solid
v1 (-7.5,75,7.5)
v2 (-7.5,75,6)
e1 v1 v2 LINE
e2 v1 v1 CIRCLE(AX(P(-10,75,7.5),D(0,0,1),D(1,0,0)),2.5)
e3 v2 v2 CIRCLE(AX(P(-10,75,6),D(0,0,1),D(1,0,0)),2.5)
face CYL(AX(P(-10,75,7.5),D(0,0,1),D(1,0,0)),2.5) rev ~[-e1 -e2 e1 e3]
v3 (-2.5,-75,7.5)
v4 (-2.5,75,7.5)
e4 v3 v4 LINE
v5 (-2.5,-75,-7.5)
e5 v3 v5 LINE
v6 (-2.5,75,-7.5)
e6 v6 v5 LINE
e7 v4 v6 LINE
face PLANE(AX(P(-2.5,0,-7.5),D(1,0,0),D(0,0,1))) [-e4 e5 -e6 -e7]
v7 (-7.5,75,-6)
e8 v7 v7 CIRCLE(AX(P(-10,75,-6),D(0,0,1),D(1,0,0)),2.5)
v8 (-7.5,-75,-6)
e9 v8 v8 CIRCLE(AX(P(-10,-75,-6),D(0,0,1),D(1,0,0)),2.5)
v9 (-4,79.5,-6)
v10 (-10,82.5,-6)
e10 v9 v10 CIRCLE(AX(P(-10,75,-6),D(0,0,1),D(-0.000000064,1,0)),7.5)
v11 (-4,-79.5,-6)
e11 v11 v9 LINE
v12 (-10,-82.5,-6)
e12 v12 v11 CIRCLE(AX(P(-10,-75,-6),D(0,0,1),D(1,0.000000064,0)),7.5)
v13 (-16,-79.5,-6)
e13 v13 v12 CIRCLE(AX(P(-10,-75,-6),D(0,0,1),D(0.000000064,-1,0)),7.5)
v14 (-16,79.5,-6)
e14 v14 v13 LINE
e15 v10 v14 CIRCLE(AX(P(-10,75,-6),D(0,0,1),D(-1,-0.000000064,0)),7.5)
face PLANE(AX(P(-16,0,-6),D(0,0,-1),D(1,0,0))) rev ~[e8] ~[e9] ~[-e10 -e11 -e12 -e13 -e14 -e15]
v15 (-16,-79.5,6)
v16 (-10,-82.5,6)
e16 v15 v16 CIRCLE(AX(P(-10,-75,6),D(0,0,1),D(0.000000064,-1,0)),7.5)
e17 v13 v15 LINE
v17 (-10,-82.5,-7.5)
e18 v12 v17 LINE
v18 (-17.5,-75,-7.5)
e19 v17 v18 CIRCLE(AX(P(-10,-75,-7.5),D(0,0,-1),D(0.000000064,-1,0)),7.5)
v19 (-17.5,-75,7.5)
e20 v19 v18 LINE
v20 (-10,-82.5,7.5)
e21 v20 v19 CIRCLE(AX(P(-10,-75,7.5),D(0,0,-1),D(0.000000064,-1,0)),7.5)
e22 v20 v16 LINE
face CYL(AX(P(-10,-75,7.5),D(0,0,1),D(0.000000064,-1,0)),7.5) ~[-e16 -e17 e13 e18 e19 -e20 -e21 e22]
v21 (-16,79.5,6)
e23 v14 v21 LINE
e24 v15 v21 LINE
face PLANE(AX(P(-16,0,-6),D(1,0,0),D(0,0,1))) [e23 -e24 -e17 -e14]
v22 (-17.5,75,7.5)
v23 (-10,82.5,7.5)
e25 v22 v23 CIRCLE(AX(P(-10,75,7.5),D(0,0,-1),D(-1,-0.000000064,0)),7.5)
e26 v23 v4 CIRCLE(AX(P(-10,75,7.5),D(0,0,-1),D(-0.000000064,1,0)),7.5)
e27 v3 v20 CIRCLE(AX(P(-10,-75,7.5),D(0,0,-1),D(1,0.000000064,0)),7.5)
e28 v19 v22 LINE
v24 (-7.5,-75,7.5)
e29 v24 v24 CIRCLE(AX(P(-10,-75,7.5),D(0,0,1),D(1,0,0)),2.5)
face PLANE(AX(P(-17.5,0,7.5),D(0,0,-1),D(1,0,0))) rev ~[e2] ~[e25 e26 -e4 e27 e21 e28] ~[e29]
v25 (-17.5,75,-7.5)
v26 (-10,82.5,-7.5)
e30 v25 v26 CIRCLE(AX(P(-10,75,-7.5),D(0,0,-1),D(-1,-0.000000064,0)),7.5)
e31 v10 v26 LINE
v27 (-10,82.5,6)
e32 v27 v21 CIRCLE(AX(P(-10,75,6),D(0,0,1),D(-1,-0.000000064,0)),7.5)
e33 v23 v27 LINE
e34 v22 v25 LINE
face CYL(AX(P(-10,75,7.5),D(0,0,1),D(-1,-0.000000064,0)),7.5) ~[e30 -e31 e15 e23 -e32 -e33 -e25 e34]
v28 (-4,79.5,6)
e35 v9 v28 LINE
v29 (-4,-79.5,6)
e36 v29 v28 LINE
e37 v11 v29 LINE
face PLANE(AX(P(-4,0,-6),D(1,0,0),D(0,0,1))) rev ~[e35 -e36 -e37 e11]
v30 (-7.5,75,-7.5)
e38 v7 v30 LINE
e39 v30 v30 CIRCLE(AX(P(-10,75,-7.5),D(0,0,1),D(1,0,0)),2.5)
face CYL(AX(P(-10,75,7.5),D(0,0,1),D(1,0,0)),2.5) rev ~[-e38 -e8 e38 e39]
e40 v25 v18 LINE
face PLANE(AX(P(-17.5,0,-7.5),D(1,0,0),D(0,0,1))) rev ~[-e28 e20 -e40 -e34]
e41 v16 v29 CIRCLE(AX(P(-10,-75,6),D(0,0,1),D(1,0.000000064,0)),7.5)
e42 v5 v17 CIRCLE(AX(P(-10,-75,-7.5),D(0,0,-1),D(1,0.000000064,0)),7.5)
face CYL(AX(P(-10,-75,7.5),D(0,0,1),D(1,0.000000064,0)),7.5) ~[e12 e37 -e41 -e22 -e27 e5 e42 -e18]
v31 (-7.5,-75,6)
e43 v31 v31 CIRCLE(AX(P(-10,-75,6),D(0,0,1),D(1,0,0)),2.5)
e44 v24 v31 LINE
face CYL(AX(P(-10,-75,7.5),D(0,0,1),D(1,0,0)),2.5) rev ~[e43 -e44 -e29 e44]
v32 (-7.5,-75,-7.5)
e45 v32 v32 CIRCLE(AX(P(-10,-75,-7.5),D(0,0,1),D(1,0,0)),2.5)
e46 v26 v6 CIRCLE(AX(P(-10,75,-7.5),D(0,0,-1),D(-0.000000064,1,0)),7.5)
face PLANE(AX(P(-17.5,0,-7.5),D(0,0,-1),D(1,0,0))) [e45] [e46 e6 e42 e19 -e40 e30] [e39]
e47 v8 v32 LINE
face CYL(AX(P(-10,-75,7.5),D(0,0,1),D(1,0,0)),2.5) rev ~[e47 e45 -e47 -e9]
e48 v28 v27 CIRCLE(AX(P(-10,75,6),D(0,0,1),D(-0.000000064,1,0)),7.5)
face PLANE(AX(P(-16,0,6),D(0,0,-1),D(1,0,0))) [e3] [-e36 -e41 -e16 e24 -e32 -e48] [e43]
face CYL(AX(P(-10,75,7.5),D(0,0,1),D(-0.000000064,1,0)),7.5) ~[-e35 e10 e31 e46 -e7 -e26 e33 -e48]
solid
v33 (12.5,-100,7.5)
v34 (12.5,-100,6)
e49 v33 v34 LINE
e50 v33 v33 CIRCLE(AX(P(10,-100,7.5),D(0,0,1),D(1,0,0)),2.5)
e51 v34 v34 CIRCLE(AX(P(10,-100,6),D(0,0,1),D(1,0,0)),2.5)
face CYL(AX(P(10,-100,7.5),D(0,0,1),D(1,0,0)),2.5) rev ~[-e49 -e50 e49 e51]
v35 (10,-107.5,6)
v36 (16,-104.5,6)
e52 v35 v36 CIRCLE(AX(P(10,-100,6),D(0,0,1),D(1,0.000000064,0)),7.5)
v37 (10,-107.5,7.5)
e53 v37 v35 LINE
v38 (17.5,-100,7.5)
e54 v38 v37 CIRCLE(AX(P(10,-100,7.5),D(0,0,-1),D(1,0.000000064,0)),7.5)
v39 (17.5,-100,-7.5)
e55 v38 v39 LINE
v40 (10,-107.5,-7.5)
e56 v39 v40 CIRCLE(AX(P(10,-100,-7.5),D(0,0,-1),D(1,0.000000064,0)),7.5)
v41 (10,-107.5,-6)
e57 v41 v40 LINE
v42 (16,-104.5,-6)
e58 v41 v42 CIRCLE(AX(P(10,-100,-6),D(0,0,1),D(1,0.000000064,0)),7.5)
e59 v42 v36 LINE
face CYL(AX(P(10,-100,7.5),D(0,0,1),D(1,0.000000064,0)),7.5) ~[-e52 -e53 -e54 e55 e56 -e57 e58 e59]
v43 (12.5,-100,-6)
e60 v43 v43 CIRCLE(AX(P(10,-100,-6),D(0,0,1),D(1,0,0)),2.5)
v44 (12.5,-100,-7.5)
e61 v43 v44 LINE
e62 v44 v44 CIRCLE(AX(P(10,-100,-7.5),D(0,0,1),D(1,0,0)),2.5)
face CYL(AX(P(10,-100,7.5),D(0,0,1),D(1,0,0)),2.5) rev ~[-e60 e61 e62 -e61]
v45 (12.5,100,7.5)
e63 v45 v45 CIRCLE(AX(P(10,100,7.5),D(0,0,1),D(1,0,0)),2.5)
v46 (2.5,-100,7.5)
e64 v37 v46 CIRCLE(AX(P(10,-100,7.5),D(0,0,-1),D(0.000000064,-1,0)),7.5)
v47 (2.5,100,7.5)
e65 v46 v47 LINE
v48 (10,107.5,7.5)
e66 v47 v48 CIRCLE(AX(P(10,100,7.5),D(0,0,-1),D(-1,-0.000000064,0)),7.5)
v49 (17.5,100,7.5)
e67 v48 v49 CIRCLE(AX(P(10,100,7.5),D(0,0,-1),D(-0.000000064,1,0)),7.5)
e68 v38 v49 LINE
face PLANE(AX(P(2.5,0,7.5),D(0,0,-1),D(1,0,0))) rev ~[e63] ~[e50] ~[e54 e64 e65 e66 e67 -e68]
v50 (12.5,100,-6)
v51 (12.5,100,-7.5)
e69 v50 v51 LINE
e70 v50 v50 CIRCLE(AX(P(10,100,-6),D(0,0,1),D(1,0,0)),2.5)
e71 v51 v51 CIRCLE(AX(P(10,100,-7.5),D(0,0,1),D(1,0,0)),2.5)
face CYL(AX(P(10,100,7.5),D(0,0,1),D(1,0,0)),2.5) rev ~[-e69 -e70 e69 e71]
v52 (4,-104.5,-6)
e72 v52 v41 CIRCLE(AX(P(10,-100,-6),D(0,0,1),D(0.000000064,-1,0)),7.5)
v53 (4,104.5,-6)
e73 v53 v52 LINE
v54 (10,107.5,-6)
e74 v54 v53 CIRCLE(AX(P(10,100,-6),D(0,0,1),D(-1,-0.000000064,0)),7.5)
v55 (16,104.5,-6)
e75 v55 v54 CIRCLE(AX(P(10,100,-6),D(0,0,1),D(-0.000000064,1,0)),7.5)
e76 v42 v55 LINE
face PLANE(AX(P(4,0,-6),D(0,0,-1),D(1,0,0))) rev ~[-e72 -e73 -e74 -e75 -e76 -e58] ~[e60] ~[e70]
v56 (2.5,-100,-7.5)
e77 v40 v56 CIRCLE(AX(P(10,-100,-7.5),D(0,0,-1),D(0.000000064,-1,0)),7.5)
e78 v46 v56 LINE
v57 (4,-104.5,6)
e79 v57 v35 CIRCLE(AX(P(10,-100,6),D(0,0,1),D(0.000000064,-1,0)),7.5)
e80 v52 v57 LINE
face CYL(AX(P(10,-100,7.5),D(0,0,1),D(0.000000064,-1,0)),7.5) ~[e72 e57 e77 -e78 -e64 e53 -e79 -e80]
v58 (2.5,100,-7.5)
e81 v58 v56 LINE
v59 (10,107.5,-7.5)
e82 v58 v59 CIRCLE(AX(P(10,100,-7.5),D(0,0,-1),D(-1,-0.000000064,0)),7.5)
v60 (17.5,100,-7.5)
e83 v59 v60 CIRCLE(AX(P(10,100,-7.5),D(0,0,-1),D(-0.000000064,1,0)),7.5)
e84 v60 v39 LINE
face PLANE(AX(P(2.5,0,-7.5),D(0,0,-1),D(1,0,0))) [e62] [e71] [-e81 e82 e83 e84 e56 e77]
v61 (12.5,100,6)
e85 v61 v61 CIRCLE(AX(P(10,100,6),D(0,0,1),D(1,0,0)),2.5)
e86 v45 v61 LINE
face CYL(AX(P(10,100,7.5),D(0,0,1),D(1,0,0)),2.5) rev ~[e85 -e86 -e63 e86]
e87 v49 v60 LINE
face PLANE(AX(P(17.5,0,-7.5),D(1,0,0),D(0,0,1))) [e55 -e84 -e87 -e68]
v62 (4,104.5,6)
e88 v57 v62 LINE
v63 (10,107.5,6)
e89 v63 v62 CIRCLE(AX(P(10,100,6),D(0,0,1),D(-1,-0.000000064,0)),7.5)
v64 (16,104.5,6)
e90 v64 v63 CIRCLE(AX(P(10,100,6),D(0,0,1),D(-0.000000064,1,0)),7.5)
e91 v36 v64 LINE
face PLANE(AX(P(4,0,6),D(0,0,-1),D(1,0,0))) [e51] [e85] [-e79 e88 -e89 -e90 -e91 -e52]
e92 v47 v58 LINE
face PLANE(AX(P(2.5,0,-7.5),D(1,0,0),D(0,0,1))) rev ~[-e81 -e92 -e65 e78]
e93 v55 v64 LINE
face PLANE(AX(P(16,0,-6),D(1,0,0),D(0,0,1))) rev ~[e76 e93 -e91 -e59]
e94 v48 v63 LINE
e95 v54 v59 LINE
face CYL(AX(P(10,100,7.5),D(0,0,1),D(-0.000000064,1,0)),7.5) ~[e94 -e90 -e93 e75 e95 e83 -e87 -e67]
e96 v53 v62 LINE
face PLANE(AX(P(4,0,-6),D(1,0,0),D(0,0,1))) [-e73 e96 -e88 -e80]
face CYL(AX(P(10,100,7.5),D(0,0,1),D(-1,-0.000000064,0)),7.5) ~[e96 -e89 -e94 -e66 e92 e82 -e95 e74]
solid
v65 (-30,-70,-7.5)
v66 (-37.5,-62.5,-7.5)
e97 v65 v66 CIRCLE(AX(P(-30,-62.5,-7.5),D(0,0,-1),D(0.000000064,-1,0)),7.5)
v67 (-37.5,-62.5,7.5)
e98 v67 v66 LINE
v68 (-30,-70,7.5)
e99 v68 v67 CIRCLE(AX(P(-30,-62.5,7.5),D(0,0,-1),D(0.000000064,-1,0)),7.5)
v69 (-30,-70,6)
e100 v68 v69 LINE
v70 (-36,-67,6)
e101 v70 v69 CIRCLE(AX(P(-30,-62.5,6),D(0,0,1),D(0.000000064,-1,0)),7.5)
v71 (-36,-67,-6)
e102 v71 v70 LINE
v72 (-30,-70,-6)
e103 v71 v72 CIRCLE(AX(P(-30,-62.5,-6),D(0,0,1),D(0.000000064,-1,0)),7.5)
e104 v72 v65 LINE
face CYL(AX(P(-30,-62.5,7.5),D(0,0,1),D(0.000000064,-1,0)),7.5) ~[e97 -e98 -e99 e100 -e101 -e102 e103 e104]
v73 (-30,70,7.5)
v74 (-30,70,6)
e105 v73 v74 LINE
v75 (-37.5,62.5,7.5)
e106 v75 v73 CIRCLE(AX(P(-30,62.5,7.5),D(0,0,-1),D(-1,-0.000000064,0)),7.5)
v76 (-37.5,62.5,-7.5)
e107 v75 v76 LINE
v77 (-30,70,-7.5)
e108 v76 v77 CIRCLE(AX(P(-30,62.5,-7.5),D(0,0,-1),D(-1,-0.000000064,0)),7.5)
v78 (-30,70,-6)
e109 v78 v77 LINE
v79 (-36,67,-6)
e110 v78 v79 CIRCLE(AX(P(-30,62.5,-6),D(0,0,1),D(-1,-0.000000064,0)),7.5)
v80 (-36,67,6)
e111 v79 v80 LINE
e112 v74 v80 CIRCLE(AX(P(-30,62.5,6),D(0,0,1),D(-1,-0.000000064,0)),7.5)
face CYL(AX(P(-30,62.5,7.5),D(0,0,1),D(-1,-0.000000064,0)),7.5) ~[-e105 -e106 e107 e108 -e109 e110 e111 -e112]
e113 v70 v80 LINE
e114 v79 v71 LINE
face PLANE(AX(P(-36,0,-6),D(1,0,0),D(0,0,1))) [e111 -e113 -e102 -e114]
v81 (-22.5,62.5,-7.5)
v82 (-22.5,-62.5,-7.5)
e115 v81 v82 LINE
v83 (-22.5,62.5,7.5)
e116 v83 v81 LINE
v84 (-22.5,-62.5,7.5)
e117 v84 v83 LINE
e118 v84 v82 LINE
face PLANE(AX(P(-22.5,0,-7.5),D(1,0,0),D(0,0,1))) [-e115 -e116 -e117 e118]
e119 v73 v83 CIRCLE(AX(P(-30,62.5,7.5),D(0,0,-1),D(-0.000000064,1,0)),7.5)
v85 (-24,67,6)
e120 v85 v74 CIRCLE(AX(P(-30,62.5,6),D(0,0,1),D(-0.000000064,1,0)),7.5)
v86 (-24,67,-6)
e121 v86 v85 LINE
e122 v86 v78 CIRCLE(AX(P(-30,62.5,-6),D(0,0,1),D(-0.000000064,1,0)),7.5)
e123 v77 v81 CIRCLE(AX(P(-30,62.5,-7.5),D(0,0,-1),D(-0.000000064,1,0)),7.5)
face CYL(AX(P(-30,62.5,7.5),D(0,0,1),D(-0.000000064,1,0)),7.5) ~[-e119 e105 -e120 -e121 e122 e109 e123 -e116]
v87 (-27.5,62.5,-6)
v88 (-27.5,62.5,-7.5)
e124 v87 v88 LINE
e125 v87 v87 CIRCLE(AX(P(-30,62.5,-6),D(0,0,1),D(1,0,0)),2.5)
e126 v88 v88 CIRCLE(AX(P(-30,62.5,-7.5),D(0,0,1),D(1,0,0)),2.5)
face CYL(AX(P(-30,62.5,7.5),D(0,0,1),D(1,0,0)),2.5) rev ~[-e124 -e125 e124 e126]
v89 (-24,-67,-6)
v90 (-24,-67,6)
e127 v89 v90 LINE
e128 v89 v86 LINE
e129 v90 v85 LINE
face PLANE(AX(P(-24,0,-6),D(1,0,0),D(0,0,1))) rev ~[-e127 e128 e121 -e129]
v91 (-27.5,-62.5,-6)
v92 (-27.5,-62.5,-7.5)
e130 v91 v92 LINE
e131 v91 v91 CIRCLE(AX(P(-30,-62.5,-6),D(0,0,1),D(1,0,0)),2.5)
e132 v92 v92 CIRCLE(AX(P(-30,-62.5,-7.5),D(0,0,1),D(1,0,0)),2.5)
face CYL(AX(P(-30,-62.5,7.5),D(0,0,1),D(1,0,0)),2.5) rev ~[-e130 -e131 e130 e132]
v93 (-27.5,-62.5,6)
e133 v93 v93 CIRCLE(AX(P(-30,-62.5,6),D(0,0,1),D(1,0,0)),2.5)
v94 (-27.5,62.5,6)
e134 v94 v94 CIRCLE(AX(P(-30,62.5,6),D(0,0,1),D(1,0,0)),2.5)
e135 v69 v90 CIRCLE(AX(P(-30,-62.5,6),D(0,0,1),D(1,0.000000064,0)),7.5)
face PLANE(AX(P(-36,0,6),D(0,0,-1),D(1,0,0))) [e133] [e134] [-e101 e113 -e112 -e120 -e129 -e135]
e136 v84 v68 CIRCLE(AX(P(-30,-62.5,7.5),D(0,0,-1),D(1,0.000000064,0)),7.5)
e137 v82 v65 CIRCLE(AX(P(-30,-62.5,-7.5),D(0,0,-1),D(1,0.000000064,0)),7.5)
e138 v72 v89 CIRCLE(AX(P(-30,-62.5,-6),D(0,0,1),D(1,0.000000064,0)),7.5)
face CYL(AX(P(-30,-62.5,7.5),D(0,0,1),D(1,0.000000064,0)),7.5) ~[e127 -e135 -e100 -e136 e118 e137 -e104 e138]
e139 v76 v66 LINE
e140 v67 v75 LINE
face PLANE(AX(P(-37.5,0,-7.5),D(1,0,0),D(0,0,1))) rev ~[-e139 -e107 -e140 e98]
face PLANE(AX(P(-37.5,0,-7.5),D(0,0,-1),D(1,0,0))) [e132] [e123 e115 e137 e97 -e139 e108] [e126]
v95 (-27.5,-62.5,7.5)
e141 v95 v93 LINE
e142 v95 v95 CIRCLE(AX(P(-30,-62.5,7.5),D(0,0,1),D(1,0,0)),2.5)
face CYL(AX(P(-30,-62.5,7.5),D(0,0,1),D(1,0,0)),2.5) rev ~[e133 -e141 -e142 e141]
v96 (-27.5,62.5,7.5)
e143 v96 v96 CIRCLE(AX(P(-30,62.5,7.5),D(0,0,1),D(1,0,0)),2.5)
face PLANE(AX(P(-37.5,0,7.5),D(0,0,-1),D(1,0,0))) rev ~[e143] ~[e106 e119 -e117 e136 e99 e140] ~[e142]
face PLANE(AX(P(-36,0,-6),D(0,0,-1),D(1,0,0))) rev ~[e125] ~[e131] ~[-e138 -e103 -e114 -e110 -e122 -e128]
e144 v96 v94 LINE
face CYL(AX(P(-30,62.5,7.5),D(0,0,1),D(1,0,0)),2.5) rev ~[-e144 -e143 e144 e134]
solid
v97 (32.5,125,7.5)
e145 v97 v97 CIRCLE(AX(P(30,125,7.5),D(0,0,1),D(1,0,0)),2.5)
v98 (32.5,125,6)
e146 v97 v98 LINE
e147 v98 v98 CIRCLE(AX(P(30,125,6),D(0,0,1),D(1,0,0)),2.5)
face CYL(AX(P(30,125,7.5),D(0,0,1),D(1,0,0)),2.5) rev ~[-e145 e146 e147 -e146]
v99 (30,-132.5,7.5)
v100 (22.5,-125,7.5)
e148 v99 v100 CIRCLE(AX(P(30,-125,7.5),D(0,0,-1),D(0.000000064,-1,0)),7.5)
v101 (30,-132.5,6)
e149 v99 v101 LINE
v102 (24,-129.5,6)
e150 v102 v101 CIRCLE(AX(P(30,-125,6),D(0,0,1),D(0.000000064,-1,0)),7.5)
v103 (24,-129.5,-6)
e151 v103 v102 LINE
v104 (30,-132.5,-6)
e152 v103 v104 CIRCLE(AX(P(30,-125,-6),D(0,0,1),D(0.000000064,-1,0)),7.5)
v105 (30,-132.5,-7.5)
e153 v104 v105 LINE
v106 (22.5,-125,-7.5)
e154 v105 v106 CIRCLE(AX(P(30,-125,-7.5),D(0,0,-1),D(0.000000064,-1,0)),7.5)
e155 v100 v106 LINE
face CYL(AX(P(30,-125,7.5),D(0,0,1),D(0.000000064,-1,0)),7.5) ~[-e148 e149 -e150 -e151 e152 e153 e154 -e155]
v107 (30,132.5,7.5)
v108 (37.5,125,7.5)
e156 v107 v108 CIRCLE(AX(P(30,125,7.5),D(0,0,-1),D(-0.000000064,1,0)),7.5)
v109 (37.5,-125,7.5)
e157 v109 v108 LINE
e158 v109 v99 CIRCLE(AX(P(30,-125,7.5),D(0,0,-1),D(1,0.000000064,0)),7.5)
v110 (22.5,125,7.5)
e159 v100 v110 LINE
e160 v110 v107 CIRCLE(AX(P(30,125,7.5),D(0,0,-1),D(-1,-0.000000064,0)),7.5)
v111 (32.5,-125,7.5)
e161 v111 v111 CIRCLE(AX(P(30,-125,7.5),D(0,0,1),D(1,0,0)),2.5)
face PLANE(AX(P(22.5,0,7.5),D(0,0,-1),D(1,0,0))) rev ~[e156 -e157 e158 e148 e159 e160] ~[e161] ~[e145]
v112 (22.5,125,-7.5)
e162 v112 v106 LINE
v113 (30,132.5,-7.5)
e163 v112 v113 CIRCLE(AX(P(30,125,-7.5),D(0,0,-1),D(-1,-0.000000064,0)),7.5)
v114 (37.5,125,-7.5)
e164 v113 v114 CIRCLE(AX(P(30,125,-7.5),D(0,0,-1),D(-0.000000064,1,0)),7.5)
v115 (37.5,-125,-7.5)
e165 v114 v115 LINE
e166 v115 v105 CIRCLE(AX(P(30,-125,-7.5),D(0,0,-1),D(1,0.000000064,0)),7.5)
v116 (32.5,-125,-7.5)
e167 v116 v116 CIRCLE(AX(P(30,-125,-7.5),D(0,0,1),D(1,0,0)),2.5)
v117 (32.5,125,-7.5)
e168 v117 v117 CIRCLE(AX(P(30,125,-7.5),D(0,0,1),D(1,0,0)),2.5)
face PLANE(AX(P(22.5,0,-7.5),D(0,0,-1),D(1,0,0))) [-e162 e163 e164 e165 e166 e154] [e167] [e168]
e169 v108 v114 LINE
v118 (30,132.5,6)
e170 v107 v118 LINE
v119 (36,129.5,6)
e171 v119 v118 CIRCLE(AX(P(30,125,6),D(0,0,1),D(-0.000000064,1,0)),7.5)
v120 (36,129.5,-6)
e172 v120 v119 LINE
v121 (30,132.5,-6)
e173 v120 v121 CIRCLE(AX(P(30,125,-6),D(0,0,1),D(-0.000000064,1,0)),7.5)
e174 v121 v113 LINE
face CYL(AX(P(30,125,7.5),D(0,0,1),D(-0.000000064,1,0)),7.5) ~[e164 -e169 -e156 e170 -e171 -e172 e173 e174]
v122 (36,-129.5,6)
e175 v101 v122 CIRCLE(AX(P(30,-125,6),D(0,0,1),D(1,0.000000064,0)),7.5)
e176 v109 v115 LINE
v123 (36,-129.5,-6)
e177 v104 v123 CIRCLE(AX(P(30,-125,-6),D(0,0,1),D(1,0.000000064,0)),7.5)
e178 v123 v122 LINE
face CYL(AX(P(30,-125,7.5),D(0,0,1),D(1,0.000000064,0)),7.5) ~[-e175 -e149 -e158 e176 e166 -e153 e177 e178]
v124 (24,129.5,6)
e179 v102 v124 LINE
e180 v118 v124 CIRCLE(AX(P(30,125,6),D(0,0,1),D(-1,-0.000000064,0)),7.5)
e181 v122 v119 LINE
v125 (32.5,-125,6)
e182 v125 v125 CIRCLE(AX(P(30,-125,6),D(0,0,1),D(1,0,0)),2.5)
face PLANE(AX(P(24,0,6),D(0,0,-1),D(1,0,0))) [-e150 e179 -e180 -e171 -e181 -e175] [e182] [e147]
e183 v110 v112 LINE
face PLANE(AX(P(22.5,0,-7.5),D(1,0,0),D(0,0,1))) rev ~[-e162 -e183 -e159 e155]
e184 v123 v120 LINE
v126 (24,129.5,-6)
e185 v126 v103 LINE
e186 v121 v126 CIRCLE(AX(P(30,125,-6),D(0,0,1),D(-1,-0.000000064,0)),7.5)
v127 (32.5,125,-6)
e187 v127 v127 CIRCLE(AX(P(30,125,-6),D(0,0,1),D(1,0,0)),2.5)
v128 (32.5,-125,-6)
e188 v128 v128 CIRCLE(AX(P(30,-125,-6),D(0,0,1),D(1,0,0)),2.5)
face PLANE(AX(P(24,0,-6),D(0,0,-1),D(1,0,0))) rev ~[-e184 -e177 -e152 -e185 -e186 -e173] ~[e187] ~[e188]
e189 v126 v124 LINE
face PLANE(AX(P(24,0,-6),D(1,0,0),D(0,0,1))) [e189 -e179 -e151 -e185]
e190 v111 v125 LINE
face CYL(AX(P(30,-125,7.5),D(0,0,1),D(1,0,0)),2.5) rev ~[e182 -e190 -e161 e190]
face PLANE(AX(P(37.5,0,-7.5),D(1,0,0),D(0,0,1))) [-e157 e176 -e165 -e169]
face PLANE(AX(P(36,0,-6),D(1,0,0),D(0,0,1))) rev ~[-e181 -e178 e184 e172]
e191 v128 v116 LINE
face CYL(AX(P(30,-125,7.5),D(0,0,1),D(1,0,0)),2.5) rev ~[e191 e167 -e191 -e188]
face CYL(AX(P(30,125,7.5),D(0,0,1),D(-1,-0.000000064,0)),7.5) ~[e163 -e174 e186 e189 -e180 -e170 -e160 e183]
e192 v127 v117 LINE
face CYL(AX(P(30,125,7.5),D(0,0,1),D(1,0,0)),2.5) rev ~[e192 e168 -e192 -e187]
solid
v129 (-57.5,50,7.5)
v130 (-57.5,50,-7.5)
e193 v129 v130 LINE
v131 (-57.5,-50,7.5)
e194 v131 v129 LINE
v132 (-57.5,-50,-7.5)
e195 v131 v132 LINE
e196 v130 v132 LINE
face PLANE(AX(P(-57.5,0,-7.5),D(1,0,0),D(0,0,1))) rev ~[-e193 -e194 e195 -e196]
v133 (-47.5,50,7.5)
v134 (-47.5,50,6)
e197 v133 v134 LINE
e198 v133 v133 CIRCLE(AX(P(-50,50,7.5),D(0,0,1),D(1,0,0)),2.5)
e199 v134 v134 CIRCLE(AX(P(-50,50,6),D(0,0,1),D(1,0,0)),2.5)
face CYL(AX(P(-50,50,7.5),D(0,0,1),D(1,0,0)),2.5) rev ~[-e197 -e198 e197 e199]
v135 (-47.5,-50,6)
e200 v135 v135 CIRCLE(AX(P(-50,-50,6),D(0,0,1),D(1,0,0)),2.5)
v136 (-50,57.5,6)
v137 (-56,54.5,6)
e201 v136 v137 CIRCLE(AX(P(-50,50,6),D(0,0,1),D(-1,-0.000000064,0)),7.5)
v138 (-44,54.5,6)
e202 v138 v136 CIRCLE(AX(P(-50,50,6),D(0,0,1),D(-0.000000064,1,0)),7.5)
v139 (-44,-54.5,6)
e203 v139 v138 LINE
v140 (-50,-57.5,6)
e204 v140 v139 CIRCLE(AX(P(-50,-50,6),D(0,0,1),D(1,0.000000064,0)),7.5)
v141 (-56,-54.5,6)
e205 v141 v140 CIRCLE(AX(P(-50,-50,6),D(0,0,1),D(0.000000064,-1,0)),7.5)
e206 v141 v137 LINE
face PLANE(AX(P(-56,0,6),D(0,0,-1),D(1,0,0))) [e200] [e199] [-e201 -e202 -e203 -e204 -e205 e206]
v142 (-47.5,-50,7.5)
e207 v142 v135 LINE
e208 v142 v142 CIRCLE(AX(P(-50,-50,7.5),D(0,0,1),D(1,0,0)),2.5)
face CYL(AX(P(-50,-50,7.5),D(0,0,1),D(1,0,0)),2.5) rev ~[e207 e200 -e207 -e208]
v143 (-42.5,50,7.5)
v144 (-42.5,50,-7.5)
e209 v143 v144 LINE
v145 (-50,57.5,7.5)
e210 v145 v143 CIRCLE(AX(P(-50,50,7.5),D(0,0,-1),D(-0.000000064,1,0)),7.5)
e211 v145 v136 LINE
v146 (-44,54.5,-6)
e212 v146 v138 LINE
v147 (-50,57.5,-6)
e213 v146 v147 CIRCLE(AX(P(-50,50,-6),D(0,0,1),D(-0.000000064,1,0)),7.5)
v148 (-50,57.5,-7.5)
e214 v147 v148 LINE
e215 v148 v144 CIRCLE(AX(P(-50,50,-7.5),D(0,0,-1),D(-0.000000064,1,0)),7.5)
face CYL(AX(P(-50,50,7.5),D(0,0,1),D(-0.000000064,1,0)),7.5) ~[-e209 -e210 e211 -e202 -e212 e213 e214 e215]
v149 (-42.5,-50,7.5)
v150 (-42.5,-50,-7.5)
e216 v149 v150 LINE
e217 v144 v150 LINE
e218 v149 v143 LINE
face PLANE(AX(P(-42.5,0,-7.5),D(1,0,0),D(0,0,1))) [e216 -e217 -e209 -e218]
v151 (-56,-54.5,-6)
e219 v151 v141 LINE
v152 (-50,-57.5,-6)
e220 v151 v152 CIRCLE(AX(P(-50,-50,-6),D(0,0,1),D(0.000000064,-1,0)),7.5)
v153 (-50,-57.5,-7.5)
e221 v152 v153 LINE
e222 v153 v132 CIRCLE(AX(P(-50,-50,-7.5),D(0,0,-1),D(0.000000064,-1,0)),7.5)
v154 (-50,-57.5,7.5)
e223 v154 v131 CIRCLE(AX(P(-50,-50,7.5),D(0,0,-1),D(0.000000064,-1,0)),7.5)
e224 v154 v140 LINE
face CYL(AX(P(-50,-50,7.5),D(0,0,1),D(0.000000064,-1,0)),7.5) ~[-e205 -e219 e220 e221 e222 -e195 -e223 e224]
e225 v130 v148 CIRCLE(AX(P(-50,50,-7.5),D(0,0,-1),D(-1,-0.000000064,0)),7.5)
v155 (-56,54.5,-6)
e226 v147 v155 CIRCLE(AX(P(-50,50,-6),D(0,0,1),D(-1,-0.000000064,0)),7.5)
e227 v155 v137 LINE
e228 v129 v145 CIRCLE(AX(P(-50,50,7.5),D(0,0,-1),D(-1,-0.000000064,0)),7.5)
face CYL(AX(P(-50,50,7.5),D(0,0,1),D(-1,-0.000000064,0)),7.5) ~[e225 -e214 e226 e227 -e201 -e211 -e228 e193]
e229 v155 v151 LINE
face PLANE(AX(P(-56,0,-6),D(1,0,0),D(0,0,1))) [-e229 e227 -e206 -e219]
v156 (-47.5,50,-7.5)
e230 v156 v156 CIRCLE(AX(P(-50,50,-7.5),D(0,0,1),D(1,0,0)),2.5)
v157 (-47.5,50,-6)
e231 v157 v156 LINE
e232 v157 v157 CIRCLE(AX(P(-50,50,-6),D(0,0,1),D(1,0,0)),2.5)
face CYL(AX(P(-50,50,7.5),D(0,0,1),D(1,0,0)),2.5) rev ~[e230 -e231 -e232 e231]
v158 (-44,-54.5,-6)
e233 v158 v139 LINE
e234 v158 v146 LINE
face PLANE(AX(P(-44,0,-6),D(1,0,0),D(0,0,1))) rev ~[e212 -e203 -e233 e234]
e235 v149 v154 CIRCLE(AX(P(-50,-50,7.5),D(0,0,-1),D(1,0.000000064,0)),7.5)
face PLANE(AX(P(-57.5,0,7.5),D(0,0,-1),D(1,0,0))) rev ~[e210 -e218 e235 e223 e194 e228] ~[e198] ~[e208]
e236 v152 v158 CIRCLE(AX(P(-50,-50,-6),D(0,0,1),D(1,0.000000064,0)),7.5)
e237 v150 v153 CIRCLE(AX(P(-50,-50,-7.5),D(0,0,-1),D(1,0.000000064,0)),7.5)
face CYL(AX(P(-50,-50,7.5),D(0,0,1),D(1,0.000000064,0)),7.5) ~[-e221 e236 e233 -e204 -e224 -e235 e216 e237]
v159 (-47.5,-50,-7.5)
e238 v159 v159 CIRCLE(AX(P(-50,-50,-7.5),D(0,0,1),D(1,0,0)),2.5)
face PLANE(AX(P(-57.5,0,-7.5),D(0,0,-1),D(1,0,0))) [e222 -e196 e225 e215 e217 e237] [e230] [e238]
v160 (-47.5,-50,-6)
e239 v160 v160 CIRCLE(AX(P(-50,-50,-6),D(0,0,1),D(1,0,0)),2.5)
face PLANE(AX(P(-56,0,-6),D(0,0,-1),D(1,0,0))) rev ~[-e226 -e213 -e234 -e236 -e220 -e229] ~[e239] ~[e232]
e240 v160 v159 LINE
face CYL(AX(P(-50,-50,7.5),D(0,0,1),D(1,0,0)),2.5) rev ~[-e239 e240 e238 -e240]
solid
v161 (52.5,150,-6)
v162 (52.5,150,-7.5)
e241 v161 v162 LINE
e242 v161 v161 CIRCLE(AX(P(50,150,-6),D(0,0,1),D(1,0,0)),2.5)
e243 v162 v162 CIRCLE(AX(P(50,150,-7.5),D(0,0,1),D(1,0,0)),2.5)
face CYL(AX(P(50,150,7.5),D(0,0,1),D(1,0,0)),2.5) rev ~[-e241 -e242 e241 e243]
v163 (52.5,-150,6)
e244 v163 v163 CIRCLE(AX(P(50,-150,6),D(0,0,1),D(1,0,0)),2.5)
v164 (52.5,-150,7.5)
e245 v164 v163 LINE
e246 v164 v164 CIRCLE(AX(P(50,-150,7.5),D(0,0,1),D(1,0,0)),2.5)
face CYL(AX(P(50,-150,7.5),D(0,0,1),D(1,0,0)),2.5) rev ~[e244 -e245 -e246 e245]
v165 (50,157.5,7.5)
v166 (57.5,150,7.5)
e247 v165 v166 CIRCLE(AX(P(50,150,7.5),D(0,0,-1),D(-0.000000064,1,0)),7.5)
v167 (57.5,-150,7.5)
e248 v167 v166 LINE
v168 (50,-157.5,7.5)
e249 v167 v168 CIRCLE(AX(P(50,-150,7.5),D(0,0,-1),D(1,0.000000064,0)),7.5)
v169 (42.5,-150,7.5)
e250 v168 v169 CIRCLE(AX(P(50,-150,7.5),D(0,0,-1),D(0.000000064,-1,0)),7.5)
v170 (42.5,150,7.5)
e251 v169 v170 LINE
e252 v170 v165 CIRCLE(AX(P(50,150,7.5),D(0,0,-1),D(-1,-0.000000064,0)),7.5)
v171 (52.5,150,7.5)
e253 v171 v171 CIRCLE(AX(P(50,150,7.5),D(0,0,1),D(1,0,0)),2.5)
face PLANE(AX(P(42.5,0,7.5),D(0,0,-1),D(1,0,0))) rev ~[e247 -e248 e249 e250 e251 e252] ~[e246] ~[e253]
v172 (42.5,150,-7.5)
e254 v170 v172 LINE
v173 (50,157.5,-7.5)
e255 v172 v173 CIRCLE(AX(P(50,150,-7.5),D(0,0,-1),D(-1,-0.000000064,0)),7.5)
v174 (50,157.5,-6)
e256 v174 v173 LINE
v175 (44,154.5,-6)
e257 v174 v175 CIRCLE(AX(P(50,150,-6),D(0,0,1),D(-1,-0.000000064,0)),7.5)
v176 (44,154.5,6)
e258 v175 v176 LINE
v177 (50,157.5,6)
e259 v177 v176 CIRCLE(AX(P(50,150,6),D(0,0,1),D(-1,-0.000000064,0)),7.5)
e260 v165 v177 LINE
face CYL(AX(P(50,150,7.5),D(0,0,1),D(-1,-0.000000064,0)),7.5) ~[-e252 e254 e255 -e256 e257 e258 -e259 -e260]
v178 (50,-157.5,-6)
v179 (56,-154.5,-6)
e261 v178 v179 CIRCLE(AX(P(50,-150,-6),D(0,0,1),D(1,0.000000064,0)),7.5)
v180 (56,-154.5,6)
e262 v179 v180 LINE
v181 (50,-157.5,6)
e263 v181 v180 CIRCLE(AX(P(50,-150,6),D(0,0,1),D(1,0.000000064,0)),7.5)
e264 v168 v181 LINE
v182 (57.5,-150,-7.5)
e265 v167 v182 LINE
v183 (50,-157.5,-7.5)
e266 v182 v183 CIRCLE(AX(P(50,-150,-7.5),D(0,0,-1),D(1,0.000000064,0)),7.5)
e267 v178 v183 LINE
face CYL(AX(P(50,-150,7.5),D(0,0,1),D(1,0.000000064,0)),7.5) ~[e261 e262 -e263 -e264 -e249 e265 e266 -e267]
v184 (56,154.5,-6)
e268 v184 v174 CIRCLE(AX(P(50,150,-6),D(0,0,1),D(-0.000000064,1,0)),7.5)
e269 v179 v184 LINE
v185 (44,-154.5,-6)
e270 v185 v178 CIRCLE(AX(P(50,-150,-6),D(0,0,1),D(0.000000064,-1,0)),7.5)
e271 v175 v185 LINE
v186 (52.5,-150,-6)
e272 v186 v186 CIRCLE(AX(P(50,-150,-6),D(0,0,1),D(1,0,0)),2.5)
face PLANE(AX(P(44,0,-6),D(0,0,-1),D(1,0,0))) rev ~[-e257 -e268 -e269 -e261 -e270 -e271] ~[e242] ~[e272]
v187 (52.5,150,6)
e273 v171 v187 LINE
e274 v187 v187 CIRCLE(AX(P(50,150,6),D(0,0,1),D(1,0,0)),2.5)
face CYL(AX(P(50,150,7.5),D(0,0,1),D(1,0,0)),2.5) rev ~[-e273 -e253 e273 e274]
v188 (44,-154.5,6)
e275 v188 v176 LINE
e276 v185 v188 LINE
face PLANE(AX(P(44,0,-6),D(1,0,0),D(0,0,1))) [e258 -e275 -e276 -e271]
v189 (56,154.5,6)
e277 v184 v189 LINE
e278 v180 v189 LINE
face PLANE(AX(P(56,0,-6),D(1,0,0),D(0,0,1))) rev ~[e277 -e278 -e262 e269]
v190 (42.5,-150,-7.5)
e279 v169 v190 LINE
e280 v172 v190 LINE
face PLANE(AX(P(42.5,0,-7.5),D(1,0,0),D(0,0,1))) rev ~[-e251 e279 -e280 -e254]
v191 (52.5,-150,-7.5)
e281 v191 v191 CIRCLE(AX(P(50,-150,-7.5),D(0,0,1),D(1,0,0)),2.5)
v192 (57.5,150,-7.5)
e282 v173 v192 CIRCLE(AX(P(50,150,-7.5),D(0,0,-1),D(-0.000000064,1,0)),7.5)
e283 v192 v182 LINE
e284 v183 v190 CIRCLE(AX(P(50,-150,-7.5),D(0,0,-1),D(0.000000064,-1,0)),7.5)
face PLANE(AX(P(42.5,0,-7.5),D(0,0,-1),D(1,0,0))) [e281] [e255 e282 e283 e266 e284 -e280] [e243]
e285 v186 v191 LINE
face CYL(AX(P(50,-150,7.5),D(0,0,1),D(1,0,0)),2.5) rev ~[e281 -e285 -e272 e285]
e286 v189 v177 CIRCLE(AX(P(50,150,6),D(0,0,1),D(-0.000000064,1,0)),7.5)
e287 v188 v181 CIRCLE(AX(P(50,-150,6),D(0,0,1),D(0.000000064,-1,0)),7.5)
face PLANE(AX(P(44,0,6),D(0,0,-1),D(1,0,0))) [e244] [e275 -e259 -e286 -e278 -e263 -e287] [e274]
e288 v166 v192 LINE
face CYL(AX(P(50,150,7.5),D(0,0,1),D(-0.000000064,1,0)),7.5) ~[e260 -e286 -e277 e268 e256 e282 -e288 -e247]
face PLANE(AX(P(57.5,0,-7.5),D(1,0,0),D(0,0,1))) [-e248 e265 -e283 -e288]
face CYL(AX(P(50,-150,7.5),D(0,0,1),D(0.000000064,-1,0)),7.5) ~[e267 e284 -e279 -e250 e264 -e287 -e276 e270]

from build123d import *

# Parameters (mm, degrees)
F0_W     = 15
F0_H     = 15
F0_W_2   = 12
F0_H_2   = 12
F1_DEPTH = 57.5
F2_DEPTH = 70
F3_DEPTH = 82.5
F4_DEPTH = 107.5
F5_DEPTH = 132.5
F6_DEPTH = 157.5
F7_R     = 2.5
F8_DEPTH = 15


with BuildPart() as f1:
    # F0 (on Front) → F1 (new body, symmetric)
    with BuildSketch(Plane.XZ):
        with Locations((-50, 0)):
            Rectangle(F0_W, F0_H)
        with Locations((-50, 0)):
            Rectangle(F0_W_2, F0_H_2, mode=Mode.SUBTRACT)
    extrude(amount=F1_DEPTH, both=True)


with BuildPart() as f2:
    # F0 (on Front) → F2 (new body, symmetric)
    with BuildSketch(Plane.XZ):
        with Locations((-30, 0)):
            Rectangle(F0_W, F0_H)
        with Locations((-30, 0)):
            Rectangle(F0_W_2, F0_H_2, mode=Mode.SUBTRACT)
    extrude(amount=F2_DEPTH, both=True)


with BuildPart() as f3:
    # F0 (on Front) → F3 (new body, symmetric)
    with BuildSketch(Plane.XZ):
        with Locations((-10, 0)):
            Rectangle(F0_W, F0_H)
        with Locations((-10, 0)):
            Rectangle(F0_W_2, F0_H_2, mode=Mode.SUBTRACT)
    extrude(amount=F3_DEPTH, both=True)


with BuildPart() as f4:
    # F0 (on Front) → F4 (new body, symmetric)
    with BuildSketch(Plane.XZ):
        with Locations((10, 0)):
            Rectangle(F0_W, F0_H)
        with Locations((10, 0)):
            Rectangle(F0_W_2, F0_H_2, mode=Mode.SUBTRACT)
    extrude(amount=F4_DEPTH, both=True)


with BuildPart() as f5:
    # F0 (on Front) → F5 (new body, symmetric)
    with BuildSketch(Plane.XZ):
        with Locations((30, 0)):
            Rectangle(F0_W, F0_H)
        with Locations((30, 0)):
            Rectangle(F0_W_2, F0_H_2, mode=Mode.SUBTRACT)
    extrude(amount=F5_DEPTH, both=True)


with BuildPart() as f6:
    # F0 (on Front) → F6 (new body, symmetric)
    with BuildSketch(Plane.XZ):
        with Locations((50, 0)):
            Rectangle(F0_W, F0_H)
        with Locations((50, 0)):
            Rectangle(F0_W_2, F0_H_2, mode=Mode.SUBTRACT)
    extrude(amount=F6_DEPTH, both=True)


with BuildPart() as f8_tool:
    # F7 (on face) → F8 (new body, through all)
    with BuildSketch(Plane.XY.offset(7.5)):
        with BuildLine():
            Line((57.5, -157.5), (57.5, -150))
            ThreePointArc((57.5, -150), (55.303301, -155.303301), (50, -157.5))
            Line((50, -157.5), (57.5, -157.5))
        make_face()
        with BuildLine():
            ThreePointArc((50, -157.5), (44.696699, -155.303301), (42.5, -150))
            Line((42.5, -150), (42.5, -157.5))
            Line((42.5, -157.5), (50, -157.5))
        make_face()
        with Locations((30, -125)):
            Circle(F7_R)
        with BuildLine():
            Line((37.5, -132.5), (37.5, -125))
            ThreePointArc((37.5, -125), (35.303301, -130.303301), (30, -132.5))
            Line((30, -132.5), (37.5, -132.5))
        make_face()
        with Locations((10, -100)):
            Circle(F7_R)
        with BuildLine():
            Line((17.5, -107.5), (17.5, -100))
            ThreePointArc((17.5, -100), (15.303301, -105.303301), (10, -107.5))
            Line((10, -107.5), (17.5, -107.5))
        make_face()
        with BuildLine():
            ThreePointArc((10, -107.5), (4.696699, -105.303301), (2.5, -100))
            Line((2.5, -100), (2.5, -107.5))
            Line((2.5, -107.5), (10, -107.5))
        make_face()
        with Locations((-30, -62.5)):
            Circle(F7_R)
        with Locations((-50, -50)):
            Circle(F7_R)
        with Locations((-10, -75)):
            Circle(F7_R)
        with BuildLine():
            ThreePointArc((-10, -82.5), (-15.303301, -80.303301), (-17.5, -75))
            Line((-17.5, -75), (-17.5, -82.5))
            Line((-17.5, -82.5), (-10, -82.5))
        make_face()
        with BuildLine():
            Line((-2.5, -82.5), (-2.5, -75))
            ThreePointArc((-2.5, -75), (-4.696699, -80.303301), (-10, -82.5))
            Line((-10, -82.5), (-2.5, -82.5))
        make_face()
        with BuildLine():
            Line((-22.5, -70), (-22.5, -62.5))
            ThreePointArc((-22.5, -62.5), (-24.696699, -67.803301), (-30, -70))
            Line((-30, -70), (-22.5, -70))
        make_face()
        with BuildLine():
            ThreePointArc((-30, -70), (-35.303301, -67.803301), (-37.5, -62.5))
            Line((-37.5, -62.5), (-37.5, -70))
            Line((-37.5, -70), (-30, -70))
        make_face()
        with BuildLine():
            Line((-42.5, -57.5), (-42.5, -50))
            ThreePointArc((-42.5, -50), (-44.696699, -55.303301), (-50, -57.5))
            Line((-50, -57.5), (-42.5, -57.5))
        make_face()
        with BuildLine():
            ThreePointArc((-50, -57.5), (-55.303301, -55.303301), (-57.5, -50))
            Line((-57.5, -50), (-57.5, -57.5))
            Line((-57.5, -57.5), (-50, -57.5))
        make_face()
        with BuildLine():
            ThreePointArc((-57.5, 50), (-55.303301, 55.303301), (-50, 57.5))
            Line((-50, 57.5), (-57.5, 57.5))
            Line((-57.5, 57.5), (-57.5, 50))
        make_face()
        with Locations((-50, 50)):
            Circle(F7_R)
        with BuildLine():
            Line((-42.5, 50), (-42.5, 57.5))
            Line((-42.5, 57.5), (-50, 57.5))
            ThreePointArc((-50, 57.5), (-44.696699, 55.303301), (-42.5, 50))
        make_face()
        with BuildLine():
            ThreePointArc((-37.5, 62.5), (-35.303301, 67.803301), (-30, 70))
            Line((-30, 70), (-37.5, 70))
            Line((-37.5, 70), (-37.5, 62.5))
        make_face()
        with Locations((-30, 62.5)):
            Circle(F7_R)
        with BuildLine():
            Line((-22.5, 62.5), (-22.5, 70))
            Line((-22.5, 70), (-30, 70))
            ThreePointArc((-30, 70), (-24.696699, 67.803301), (-22.5, 62.5))
        make_face()
        with BuildLine():
            ThreePointArc((-17.5, 75), (-15.303301, 80.303301), (-10, 82.5))
            Line((-10, 82.5), (-17.5, 82.5))
            Line((-17.5, 82.5), (-17.5, 75))
        make_face()
        with BuildLine():
            Line((-2.5, 75), (-2.5, 82.5))
            Line((-2.5, 82.5), (-10, 82.5))
            ThreePointArc((-10, 82.5), (-4.696699, 80.303301), (-2.5, 75))
        make_face()
        with Locations((-10, 75)):
            Circle(F7_R)
        with BuildLine():
            ThreePointArc((2.5, 100), (4.696699, 105.303301), (10, 107.5))
            Line((10, 107.5), (2.5, 107.5))
            Line((2.5, 107.5), (2.5, 100))
        make_face()
        with Locations((10, 100)):
            Circle(F7_R)
        with BuildLine():
            Line((17.5, 100), (17.5, 107.5))
            Line((17.5, 107.5), (10, 107.5))
            ThreePointArc((10, 107.5), (15.303301, 105.303301), (17.5, 100))
        make_face()
        with BuildLine():
            ThreePointArc((22.5, 125), (24.696699, 130.303301), (30, 132.5))
            Line((30, 132.5), (22.5, 132.5))
            Line((22.5, 132.5), (22.5, 125))
        make_face()
        with Locations((30, 125)):
            Circle(F7_R)
        with BuildLine():
            Line((37.5, 125), (37.5, 132.5))
            Line((37.5, 132.5), (30, 132.5))
            ThreePointArc((30, 132.5), (35.303301, 130.303301), (37.5, 125))
        make_face()
        with BuildLine():
            ThreePointArc((42.5, 150), (44.696699, 155.303301), (50, 157.5))
            Line((50, 157.5), (42.5, 157.5))
            Line((42.5, 157.5), (42.5, 150))
        make_face()
        with BuildLine():
            Line((57.5, 150), (57.5, 157.5))
            Line((57.5, 157.5), (50, 157.5))
            ThreePointArc((50, 157.5), (55.303301, 155.303301), (57.5, 150))
        make_face()
        with Locations((50, -150)):
            Circle(F7_R)
        with Locations((50, 150)):
            Circle(F7_R)
        with BuildLine():
            ThreePointArc((30, -132.5), (24.696699, -130.303301), (22.5, -125))
            Line((22.5, -125), (22.5, -132.5))
            Line((22.5, -132.5), (30, -132.5))
        make_face()
    extrude(amount=-F8_DEPTH)


with BuildPart() as f1_1:
    add(f1.part)

    # F8: cut by f8_tool
    add(f8_tool.part, mode=Mode.SUBTRACT)


with BuildPart() as f2_1:
    add(f2.part)

    # F8: cut by f8_tool
    add(f8_tool.part, mode=Mode.SUBTRACT)


with BuildPart() as f3_1:
    add(f3.part)

    # F8: cut by f8_tool
    add(f8_tool.part, mode=Mode.SUBTRACT)


with BuildPart() as f4_1:
    add(f4.part)

    # F8: cut by f8_tool
    add(f8_tool.part, mode=Mode.SUBTRACT)


with BuildPart() as f5_1:
    add(f5.part)

    # F8: cut by f8_tool
    add(f8_tool.part, mode=Mode.SUBTRACT)


with BuildPart() as f6_1:
    add(f6.part)

    # F8: cut by f8_tool
    add(f8_tool.part, mode=Mode.SUBTRACT)


solid = Compound([f1_1.part, f2_1.part, f3_1.part, f4_1.part, f5_1.part, f6_1.part])
